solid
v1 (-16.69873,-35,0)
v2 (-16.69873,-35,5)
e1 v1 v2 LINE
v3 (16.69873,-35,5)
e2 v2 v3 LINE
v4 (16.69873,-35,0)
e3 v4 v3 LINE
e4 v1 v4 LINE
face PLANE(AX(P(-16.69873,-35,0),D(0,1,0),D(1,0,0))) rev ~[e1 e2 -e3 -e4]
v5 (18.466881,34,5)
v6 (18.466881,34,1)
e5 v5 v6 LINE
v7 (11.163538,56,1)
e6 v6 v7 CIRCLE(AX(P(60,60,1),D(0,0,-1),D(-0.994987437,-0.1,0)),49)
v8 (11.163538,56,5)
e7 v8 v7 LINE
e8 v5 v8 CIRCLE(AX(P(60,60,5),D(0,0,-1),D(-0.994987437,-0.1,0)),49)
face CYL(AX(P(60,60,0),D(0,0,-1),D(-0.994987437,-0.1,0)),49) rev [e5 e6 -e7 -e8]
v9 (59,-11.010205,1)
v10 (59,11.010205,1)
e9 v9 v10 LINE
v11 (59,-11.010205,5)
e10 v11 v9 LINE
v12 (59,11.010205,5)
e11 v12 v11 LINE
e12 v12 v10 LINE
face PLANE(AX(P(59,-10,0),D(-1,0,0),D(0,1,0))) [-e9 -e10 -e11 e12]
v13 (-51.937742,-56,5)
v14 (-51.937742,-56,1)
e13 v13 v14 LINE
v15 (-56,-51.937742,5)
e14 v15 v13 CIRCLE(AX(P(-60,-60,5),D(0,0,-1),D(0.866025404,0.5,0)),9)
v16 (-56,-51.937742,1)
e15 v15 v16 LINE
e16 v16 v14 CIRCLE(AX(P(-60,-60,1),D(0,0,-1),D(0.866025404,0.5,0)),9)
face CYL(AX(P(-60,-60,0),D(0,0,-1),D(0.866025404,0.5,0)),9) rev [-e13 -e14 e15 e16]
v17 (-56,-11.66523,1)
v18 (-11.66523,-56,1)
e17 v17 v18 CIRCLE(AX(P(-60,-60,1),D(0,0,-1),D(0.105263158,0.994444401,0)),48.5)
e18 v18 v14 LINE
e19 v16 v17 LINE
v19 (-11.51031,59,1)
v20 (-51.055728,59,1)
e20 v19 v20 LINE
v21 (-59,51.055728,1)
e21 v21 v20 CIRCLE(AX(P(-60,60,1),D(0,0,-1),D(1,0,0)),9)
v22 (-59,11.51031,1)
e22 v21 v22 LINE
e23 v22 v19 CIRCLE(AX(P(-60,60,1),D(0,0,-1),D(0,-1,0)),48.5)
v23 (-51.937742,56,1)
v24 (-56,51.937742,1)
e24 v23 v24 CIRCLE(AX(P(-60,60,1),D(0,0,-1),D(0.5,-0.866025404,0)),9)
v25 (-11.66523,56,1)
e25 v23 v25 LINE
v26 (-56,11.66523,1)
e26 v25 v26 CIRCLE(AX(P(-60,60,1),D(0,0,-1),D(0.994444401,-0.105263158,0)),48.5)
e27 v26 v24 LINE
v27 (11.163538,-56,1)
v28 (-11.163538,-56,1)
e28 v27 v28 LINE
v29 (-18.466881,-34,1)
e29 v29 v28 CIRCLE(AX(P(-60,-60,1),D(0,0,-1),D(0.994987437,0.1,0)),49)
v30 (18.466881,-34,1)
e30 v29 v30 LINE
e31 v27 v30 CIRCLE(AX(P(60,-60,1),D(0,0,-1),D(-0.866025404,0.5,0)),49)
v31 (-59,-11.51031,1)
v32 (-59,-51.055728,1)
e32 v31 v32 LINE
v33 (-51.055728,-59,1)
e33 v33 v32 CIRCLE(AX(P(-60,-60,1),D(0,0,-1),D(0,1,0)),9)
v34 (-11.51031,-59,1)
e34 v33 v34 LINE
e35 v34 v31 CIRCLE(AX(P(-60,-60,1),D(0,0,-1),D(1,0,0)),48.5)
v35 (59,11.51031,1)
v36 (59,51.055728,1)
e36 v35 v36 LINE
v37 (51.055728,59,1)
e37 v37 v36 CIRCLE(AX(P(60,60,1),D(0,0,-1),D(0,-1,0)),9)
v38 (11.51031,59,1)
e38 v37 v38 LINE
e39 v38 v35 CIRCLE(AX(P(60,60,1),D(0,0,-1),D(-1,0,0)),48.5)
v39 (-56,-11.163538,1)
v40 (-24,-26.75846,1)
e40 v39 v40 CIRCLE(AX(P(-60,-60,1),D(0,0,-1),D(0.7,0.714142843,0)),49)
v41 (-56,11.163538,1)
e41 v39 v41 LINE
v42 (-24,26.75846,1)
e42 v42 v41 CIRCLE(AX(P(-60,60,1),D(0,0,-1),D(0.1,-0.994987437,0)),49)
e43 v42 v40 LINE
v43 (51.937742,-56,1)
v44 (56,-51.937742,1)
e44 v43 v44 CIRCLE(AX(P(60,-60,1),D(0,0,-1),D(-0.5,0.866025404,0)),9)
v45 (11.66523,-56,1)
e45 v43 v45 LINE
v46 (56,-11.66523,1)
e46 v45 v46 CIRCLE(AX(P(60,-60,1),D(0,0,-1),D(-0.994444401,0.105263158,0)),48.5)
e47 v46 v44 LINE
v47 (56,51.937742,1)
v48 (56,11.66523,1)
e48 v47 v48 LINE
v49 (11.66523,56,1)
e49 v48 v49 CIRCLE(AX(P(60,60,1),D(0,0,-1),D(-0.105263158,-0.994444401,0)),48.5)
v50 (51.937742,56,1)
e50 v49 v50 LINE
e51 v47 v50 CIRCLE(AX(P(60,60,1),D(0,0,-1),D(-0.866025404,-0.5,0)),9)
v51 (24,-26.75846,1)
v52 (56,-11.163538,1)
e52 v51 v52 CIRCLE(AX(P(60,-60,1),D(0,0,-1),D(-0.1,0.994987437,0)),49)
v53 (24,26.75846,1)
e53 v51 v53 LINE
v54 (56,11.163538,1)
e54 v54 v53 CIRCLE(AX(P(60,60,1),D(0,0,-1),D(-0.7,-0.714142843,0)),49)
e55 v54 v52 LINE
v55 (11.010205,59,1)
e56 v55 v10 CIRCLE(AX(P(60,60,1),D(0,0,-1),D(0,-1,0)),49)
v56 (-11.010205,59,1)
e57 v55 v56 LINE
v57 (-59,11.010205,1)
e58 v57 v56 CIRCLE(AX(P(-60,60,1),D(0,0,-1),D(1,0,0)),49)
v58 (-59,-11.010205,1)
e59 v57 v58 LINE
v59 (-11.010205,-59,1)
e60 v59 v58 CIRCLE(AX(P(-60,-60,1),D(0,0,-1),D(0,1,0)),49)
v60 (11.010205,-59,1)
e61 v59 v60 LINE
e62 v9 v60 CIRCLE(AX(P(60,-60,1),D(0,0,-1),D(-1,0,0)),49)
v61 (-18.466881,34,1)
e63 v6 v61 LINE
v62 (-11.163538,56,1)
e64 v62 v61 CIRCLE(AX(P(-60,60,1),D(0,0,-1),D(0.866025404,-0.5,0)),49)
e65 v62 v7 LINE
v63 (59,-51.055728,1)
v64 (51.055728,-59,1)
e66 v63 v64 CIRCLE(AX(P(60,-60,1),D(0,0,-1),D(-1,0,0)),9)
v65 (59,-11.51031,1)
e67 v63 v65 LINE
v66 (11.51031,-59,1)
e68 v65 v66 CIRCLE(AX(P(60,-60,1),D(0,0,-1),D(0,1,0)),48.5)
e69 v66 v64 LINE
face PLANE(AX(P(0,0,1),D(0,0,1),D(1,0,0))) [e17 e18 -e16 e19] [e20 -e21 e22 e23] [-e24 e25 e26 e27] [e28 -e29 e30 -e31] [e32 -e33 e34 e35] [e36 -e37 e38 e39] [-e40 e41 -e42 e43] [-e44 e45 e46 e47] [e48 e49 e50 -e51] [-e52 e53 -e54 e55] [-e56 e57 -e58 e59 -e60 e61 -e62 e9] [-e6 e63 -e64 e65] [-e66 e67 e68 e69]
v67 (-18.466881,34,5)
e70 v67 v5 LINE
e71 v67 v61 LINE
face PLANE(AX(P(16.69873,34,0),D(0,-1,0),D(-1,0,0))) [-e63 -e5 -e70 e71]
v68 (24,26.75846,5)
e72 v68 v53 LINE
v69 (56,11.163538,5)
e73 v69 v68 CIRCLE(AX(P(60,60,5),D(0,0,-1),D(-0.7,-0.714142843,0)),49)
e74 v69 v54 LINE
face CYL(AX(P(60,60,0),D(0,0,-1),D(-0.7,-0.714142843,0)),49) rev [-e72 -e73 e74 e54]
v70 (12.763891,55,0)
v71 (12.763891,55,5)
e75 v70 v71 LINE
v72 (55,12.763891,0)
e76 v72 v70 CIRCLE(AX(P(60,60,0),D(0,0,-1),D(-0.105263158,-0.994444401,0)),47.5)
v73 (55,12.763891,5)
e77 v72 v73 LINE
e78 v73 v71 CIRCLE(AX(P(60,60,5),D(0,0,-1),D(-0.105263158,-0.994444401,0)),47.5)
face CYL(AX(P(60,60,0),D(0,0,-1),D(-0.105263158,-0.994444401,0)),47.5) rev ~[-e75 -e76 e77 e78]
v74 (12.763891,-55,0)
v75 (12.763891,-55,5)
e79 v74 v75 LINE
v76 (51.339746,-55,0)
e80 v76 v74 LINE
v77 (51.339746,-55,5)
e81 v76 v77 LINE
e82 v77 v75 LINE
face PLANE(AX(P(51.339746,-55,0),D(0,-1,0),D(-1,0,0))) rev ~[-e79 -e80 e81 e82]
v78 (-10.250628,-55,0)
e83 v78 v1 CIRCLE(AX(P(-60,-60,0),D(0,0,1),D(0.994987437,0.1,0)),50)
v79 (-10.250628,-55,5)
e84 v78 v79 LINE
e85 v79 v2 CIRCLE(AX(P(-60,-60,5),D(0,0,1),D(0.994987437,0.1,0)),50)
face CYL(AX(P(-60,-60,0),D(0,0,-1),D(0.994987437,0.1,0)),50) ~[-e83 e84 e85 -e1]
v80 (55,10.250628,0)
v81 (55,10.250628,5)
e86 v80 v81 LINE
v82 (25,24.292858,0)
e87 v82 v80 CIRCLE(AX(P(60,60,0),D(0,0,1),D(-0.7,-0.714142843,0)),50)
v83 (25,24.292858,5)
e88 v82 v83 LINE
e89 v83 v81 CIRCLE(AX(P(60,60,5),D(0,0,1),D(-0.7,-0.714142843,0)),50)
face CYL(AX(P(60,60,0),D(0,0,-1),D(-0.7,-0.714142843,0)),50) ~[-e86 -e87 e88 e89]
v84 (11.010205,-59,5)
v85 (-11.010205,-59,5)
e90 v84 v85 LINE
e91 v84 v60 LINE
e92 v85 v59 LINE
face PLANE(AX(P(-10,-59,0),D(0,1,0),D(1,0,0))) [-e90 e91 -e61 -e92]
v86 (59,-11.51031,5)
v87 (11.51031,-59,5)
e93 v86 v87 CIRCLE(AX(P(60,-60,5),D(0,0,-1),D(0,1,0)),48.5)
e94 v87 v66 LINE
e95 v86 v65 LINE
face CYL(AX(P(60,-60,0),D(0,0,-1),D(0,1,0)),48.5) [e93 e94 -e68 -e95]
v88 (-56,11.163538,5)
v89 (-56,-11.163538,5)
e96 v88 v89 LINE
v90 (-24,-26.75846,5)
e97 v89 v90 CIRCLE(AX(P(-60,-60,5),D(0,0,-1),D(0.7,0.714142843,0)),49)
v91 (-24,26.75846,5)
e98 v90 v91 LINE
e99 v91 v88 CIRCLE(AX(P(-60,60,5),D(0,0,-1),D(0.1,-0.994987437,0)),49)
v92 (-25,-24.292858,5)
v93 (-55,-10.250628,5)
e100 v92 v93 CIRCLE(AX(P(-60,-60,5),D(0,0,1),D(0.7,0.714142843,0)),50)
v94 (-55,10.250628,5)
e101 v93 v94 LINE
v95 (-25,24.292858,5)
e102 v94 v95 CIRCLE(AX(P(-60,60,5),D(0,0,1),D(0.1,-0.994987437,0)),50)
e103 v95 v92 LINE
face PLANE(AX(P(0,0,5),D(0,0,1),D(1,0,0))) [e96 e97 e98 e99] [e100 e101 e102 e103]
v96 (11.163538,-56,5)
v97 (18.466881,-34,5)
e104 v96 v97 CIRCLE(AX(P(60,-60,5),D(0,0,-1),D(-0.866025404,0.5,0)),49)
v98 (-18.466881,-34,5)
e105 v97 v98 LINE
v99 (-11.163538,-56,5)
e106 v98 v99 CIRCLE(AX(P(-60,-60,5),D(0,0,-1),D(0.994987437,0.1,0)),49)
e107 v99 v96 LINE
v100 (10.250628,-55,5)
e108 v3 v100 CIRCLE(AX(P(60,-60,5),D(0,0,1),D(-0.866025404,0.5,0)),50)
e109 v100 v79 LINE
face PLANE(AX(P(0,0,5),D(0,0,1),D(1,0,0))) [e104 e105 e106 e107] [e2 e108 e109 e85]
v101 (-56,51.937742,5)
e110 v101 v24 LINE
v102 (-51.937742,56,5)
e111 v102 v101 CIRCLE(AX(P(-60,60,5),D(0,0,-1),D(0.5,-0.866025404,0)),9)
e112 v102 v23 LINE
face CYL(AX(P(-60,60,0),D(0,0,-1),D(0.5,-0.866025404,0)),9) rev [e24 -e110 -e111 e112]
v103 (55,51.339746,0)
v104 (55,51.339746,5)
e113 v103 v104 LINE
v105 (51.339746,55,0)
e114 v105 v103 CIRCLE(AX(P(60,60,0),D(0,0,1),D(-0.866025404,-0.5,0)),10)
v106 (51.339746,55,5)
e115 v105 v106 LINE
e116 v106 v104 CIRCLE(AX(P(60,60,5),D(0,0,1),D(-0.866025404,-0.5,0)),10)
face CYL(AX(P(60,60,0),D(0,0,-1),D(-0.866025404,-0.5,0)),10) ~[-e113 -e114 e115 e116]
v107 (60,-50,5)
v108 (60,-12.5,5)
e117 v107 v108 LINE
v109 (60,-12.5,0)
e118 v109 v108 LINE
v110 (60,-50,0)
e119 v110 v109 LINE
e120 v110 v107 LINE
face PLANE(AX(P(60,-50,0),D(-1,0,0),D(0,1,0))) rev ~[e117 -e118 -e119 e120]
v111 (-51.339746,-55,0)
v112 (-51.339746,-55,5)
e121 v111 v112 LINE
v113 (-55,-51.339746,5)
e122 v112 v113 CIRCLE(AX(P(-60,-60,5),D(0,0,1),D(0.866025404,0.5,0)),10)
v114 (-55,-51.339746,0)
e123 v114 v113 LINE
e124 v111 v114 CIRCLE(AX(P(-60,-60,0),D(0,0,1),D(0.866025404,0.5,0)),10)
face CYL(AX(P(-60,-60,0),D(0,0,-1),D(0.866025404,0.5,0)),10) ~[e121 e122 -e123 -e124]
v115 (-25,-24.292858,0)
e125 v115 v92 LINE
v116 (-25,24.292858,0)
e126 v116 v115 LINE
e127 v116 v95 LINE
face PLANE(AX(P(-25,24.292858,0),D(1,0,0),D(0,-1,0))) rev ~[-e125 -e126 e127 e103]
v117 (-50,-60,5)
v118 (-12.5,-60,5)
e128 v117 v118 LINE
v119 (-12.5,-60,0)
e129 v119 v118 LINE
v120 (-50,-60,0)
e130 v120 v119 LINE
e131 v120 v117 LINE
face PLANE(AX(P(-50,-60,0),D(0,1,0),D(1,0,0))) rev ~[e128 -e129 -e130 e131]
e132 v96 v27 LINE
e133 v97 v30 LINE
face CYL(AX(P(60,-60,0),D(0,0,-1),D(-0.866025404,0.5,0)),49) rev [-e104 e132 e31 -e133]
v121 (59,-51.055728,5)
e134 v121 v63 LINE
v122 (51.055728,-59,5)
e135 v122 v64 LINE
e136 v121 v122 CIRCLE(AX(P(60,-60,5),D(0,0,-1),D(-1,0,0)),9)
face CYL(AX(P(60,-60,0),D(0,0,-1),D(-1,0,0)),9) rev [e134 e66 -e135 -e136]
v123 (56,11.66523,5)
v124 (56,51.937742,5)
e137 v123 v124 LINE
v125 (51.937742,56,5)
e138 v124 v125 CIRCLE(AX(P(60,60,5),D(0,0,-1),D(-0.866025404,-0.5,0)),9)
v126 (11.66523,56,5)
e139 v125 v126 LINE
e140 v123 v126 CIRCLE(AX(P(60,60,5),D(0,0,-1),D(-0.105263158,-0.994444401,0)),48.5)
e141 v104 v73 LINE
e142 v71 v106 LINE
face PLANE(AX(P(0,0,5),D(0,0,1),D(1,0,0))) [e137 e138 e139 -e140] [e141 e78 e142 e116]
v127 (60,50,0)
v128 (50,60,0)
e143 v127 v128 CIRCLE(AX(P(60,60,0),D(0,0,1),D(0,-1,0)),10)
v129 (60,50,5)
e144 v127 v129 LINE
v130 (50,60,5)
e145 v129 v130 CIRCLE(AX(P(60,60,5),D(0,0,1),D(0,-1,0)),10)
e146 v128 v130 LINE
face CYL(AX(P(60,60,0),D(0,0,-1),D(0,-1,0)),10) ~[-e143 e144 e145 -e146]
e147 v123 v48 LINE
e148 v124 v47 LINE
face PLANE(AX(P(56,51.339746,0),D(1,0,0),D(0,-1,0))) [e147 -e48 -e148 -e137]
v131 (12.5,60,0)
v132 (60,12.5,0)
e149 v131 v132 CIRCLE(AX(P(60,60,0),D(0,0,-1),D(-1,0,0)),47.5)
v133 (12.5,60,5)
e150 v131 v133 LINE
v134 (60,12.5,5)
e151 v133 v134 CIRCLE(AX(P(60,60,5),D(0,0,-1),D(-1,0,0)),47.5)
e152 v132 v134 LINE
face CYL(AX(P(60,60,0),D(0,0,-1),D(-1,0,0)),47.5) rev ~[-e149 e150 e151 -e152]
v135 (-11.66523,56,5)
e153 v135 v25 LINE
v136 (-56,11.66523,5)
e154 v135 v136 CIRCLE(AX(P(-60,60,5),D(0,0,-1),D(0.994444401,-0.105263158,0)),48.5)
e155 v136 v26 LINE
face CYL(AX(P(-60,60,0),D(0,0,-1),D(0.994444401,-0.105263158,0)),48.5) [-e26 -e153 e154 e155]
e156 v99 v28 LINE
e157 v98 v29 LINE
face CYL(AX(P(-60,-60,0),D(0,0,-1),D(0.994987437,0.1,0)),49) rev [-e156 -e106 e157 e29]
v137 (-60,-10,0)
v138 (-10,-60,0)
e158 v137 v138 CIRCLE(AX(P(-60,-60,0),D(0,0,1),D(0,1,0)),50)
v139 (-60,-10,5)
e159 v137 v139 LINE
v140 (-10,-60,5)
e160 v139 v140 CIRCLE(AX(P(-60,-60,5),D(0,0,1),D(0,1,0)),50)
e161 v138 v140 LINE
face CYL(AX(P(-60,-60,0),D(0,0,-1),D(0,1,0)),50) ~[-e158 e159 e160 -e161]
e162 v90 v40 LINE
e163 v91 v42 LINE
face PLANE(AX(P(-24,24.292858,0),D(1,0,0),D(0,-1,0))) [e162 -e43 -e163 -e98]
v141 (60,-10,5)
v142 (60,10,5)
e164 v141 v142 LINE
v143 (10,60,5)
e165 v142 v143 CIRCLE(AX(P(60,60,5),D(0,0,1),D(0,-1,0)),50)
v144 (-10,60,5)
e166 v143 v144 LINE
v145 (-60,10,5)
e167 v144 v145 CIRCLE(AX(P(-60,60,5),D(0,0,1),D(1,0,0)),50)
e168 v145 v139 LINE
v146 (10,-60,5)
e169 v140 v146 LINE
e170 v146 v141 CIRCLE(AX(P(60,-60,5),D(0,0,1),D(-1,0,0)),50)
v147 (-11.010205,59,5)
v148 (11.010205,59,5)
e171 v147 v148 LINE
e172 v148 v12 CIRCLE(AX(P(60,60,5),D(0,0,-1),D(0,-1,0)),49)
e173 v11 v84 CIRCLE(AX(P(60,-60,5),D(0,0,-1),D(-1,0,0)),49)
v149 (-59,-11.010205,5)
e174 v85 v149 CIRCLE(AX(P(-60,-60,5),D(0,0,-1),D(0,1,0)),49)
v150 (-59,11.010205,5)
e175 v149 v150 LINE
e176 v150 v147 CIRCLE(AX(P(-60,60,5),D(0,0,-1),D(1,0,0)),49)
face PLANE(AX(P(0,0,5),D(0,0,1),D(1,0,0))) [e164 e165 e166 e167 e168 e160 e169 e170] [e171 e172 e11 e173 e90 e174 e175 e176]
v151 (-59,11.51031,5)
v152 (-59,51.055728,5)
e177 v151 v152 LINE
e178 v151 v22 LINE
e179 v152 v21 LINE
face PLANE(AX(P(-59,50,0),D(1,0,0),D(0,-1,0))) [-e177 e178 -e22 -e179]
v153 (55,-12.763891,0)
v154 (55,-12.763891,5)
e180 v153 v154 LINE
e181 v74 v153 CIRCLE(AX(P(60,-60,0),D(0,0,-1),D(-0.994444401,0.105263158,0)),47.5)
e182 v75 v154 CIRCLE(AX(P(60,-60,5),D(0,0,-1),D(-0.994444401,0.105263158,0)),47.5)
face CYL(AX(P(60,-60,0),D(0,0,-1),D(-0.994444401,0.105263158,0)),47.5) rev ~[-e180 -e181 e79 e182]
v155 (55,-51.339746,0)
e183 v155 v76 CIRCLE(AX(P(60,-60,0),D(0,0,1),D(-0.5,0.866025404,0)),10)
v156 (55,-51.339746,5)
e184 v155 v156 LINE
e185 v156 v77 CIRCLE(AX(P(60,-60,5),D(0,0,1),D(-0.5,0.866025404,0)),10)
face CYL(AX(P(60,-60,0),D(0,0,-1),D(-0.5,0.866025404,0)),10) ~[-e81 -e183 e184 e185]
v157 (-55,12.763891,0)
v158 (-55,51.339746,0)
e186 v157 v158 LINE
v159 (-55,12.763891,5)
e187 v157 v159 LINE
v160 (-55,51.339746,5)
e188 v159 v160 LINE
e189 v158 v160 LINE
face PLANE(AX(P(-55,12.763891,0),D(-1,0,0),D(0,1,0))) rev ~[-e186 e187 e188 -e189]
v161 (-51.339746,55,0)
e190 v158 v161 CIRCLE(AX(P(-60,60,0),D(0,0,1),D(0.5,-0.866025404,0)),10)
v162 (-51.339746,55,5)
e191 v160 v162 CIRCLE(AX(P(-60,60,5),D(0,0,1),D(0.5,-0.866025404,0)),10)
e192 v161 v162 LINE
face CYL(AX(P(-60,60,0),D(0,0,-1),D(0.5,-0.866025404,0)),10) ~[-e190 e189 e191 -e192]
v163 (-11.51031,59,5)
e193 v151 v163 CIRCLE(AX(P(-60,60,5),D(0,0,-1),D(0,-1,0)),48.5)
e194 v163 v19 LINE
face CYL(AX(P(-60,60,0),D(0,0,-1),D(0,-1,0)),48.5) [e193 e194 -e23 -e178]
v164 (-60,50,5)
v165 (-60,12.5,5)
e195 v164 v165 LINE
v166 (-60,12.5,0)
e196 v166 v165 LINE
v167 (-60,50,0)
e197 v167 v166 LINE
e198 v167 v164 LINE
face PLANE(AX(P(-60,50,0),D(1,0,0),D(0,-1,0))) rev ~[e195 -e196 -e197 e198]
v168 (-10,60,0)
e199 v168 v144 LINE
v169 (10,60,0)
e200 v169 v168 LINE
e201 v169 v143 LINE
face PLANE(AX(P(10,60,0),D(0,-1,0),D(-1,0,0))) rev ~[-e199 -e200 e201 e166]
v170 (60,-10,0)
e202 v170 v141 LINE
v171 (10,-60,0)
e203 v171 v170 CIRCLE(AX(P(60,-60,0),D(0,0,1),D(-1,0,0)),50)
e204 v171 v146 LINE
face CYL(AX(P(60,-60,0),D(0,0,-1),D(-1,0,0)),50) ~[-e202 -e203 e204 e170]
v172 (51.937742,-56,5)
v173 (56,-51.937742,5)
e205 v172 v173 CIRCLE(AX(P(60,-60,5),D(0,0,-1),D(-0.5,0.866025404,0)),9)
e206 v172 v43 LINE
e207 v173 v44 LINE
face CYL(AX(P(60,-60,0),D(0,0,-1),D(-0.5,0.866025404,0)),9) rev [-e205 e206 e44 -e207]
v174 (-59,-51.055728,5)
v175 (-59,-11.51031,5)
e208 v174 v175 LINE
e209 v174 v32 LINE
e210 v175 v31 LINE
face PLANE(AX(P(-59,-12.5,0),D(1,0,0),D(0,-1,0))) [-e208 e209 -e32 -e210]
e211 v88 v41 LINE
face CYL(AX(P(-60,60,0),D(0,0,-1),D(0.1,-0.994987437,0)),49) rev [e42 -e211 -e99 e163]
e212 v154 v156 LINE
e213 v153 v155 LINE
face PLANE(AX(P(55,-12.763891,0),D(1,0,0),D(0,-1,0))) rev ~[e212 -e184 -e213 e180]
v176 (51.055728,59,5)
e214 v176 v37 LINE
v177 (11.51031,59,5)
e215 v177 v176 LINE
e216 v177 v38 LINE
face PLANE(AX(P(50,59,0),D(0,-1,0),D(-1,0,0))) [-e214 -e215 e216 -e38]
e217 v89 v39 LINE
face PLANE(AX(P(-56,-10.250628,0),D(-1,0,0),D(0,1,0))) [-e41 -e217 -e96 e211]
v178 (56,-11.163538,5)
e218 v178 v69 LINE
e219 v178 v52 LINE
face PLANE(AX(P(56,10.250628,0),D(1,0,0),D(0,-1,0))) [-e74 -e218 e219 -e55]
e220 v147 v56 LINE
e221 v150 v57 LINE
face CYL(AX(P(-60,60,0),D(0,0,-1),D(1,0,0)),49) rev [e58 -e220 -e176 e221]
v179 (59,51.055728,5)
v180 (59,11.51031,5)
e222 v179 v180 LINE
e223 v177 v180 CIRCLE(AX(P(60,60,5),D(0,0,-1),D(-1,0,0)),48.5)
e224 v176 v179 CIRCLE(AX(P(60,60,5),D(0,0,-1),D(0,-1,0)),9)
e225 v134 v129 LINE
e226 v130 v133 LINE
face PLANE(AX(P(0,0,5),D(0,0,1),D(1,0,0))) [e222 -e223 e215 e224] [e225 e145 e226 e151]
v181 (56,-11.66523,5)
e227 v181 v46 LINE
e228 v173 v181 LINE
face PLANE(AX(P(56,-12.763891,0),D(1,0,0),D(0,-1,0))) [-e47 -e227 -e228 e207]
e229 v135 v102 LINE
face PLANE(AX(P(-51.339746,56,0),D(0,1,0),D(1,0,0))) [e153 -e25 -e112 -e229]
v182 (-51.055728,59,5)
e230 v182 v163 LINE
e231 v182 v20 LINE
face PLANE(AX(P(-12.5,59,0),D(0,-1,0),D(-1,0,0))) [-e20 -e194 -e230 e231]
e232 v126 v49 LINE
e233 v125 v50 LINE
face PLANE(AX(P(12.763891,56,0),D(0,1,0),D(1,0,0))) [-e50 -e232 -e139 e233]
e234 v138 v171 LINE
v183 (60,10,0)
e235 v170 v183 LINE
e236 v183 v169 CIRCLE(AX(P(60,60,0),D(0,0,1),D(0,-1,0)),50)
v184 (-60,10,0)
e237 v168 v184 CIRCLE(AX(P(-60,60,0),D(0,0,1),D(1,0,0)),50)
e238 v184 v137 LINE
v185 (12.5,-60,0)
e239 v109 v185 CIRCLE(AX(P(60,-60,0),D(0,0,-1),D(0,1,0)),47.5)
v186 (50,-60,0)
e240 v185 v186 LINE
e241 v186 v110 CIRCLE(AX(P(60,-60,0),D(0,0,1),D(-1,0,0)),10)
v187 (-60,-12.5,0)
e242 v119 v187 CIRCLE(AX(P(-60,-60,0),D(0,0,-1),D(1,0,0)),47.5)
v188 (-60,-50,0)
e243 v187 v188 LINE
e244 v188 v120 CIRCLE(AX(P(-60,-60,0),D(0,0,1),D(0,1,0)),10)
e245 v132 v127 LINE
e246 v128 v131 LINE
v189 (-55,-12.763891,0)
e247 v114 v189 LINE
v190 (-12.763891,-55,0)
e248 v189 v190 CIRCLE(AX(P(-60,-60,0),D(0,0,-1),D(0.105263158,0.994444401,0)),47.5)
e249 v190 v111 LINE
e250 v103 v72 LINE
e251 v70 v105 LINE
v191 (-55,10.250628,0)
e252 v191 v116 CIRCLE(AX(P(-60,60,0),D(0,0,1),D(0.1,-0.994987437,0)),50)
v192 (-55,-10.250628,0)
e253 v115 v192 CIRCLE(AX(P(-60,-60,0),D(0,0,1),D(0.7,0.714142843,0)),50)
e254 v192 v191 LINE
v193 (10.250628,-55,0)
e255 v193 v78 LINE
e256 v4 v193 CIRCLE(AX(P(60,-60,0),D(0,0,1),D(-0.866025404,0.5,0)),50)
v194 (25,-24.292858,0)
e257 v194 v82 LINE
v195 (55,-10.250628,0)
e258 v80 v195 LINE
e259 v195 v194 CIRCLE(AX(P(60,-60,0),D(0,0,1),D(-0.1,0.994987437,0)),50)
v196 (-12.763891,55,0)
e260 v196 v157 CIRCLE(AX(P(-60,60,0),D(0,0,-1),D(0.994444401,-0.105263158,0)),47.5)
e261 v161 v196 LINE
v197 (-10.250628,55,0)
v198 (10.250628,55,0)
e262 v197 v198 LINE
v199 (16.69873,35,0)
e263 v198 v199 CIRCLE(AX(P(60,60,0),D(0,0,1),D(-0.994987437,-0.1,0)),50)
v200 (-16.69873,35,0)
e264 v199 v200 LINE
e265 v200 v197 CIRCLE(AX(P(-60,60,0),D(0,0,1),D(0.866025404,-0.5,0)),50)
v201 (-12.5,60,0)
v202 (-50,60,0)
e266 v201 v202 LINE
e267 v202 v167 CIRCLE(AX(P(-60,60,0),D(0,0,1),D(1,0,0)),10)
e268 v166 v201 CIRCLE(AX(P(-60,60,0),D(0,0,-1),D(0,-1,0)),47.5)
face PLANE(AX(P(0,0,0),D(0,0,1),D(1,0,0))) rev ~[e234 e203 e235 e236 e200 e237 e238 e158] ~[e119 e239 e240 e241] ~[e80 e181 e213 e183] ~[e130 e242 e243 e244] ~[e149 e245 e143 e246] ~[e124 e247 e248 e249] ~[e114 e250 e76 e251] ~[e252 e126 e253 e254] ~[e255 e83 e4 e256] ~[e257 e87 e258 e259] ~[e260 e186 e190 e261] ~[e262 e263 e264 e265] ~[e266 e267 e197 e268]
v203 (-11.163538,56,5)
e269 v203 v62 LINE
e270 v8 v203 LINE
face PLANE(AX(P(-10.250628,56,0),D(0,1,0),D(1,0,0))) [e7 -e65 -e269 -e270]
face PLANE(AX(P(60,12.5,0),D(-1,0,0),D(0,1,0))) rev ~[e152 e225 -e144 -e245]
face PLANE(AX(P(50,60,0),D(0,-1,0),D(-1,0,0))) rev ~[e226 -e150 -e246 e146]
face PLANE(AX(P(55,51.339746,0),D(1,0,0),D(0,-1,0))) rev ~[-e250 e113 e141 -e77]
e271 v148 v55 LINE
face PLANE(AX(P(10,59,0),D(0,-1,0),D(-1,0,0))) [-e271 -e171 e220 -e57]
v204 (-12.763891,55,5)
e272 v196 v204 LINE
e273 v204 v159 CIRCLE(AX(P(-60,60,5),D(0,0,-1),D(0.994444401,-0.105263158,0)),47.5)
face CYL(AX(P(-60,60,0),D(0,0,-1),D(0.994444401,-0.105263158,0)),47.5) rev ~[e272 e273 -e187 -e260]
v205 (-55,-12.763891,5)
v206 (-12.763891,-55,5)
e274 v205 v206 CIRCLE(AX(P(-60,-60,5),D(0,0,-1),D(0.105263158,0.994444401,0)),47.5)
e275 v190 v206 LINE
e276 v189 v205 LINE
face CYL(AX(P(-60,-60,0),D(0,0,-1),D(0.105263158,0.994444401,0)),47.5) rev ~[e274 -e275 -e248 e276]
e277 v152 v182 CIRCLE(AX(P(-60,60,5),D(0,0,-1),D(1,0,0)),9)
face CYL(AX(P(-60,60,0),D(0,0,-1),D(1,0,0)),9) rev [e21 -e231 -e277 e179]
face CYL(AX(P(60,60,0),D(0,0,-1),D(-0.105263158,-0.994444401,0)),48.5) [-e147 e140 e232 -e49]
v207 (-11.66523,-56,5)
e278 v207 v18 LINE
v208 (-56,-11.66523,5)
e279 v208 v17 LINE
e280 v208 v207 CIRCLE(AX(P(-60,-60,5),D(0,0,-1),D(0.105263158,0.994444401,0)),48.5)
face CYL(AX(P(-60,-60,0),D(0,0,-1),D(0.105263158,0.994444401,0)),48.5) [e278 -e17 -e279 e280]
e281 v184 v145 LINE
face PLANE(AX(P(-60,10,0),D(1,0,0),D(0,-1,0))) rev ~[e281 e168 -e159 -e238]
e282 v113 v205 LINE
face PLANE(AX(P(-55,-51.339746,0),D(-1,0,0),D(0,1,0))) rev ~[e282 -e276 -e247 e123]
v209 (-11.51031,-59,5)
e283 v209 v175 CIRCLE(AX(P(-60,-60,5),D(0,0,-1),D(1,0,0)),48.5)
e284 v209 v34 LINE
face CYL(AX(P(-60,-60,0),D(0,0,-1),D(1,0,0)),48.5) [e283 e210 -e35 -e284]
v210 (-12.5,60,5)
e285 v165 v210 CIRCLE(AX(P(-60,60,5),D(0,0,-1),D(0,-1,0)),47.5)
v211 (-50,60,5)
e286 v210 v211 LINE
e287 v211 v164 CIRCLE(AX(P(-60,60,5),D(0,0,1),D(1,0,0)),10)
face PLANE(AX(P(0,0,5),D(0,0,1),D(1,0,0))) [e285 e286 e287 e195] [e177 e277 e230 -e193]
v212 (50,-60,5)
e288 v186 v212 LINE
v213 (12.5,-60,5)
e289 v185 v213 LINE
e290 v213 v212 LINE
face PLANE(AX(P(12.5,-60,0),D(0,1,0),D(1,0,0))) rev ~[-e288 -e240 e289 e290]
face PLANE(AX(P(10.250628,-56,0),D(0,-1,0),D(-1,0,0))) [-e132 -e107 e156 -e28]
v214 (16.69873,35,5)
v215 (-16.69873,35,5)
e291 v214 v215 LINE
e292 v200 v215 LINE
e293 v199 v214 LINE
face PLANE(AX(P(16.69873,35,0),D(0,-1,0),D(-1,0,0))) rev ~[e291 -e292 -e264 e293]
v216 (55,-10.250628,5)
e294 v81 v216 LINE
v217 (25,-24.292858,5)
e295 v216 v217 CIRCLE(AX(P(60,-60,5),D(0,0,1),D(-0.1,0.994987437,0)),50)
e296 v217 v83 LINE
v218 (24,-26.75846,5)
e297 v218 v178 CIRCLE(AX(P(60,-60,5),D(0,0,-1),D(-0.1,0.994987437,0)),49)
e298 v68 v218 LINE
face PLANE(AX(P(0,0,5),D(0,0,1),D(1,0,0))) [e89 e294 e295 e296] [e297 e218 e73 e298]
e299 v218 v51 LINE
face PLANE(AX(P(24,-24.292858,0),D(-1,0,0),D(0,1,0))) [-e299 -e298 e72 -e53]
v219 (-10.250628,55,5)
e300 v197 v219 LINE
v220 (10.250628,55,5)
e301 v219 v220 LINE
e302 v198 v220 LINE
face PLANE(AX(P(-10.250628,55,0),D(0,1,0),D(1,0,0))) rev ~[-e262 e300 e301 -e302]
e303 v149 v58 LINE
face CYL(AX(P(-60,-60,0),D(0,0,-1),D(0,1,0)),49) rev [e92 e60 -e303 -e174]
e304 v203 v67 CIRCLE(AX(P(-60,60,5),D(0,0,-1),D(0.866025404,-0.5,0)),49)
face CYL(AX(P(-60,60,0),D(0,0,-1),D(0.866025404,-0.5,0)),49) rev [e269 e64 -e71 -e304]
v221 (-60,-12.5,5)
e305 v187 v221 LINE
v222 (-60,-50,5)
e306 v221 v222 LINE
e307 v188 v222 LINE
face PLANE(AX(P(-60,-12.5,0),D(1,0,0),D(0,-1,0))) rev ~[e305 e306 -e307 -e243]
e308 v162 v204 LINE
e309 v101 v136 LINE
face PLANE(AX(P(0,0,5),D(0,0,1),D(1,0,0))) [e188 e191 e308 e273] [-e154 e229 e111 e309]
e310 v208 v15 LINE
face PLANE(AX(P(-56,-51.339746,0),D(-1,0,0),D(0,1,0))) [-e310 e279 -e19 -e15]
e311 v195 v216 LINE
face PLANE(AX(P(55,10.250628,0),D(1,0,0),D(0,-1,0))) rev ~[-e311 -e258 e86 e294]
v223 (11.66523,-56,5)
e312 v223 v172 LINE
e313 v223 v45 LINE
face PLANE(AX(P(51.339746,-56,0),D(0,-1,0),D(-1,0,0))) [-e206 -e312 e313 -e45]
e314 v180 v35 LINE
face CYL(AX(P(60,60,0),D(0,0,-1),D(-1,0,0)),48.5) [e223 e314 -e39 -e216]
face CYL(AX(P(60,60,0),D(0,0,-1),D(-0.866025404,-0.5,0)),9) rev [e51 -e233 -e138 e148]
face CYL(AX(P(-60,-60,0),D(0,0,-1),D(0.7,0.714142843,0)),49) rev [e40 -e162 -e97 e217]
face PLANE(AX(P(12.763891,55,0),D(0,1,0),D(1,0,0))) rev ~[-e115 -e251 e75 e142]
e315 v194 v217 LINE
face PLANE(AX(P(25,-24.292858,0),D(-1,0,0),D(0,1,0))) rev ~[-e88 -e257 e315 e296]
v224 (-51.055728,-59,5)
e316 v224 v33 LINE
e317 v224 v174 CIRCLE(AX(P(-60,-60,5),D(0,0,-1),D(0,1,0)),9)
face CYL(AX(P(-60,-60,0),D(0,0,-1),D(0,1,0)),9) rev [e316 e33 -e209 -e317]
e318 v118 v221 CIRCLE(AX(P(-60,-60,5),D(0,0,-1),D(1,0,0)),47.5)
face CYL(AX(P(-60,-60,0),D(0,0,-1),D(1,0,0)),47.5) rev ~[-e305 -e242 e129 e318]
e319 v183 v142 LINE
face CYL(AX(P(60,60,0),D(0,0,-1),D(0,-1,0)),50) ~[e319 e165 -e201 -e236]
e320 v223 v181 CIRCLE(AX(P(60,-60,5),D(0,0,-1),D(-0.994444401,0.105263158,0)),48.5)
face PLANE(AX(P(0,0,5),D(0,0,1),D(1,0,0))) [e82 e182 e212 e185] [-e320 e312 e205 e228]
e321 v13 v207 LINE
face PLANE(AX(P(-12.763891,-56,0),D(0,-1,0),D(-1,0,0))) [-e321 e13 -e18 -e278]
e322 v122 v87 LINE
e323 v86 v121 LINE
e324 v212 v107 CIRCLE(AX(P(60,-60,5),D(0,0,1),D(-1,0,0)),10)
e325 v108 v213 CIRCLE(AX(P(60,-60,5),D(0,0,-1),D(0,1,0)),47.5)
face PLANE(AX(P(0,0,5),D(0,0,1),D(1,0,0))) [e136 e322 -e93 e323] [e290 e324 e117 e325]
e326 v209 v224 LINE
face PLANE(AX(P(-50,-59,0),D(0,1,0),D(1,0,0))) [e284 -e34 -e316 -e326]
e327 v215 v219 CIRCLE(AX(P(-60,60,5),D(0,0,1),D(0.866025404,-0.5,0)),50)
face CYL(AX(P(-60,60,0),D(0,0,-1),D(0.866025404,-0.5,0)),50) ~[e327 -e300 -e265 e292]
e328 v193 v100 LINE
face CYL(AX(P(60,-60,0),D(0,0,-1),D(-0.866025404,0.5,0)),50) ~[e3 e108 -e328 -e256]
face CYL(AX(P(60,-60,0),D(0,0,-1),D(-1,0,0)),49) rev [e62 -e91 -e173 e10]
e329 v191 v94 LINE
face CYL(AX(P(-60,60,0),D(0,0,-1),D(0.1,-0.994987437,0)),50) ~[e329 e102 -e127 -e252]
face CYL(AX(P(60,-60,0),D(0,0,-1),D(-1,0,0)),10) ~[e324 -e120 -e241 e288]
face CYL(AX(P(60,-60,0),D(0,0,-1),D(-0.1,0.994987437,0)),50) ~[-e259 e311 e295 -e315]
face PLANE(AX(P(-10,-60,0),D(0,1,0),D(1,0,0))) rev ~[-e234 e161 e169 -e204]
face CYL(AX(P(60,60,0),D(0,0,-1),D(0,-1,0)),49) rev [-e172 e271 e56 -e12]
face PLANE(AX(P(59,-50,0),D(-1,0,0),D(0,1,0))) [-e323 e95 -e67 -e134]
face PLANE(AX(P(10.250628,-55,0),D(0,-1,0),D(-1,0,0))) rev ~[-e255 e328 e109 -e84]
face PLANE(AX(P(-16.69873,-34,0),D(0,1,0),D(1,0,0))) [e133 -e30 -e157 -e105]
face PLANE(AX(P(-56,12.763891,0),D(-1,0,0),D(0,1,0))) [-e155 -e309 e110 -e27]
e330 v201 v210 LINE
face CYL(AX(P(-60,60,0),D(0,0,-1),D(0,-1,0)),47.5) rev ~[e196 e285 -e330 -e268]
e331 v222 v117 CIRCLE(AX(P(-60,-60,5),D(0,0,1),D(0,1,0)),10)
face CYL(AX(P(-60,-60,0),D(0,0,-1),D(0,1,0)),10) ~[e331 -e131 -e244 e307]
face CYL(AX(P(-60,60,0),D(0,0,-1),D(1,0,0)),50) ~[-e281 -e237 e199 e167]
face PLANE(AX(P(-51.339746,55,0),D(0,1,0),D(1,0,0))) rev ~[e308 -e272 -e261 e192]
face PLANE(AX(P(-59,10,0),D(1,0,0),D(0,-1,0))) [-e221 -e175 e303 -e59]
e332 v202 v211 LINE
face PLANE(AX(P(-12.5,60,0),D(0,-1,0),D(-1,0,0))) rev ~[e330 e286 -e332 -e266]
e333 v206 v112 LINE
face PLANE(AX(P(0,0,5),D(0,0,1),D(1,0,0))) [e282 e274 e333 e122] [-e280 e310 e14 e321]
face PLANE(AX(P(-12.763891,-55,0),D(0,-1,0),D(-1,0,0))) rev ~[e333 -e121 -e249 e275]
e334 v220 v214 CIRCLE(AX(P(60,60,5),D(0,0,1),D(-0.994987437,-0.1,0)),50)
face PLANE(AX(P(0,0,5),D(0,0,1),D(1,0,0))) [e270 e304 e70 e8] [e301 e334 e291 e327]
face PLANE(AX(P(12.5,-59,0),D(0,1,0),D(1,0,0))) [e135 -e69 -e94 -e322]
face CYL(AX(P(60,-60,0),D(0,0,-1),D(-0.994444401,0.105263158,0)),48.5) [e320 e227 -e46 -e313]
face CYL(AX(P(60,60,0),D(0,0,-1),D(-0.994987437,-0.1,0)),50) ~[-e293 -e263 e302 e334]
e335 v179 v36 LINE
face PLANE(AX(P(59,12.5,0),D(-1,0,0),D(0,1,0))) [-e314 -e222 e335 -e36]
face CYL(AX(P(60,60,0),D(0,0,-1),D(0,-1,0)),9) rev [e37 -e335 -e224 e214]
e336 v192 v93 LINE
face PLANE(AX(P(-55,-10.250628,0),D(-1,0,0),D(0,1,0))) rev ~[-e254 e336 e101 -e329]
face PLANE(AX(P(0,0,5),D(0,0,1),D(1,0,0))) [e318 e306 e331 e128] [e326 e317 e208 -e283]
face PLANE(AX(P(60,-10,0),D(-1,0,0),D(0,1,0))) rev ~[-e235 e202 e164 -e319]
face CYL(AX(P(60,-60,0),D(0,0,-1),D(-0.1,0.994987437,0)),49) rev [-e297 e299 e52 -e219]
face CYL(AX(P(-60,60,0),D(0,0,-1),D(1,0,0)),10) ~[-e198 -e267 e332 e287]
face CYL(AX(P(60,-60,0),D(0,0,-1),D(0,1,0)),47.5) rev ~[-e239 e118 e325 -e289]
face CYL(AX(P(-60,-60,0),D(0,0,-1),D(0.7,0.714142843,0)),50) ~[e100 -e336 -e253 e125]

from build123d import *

# Parameters (mm, degrees)
F1_DEPTH = 5
F2_T     = -1


with BuildPart() as f1:
    # F0 (on Top) → F1 (new body)
    with BuildSketch(Plane.XY):
        with BuildLine():
            ThreePointArc((-10, 60), (-95.3553390593, 95.3553390593), (-60, 10))
            Line((-60, 10), (-60, -10))
            ThreePointArc((-60, -10), (-95.3553390593, -95.3553390593), (-10, -60))
            Line((-10, -60), (10, -60))
            ThreePointArc((10, -60), (95.3553390593, -95.3553390593), (60, -10))
            Line((60, -10), (60, 10))
            ThreePointArc((60, 10), (95.3553390593, 95.3553390593), (10, 60))
            Line((10, 60), (-10, 60))
        make_face()
        with BuildLine():
            Line((-50, -60), (-12.5, -60))
            ThreePointArc((-12.5, -60), (-93.5875721064, -93.5875721064), (-60, -12.5))
            Line((-60, -12.5), (-60, -50))
            ThreePointArc((-60, -50), (-67.0710678119, -67.0710678119), (-50, -60))
        make_face(mode=Mode.SUBTRACT)
        with BuildLine():
            ThreePointArc((-55, -12.7638909308), (-26.4124278936, -26.4124278936), (-12.7638909308, -55))
            Line((-12.7638909308, -55), (-51.3397459622, -55))
            ThreePointArc((-51.3397459622, -55), (-52.9289321881, -52.9289321881), (-55, -51.3397459622))
            Line((-55, -51.3397459622), (-55, -12.7638909308))
        make_face(mode=Mode.SUBTRACT)
        with BuildLine():
            Line((12.5, -60), (50, -60))
            ThreePointArc((50, -60), (67.0710678119, -67.0710678119), (60, -50))
            Line((60, -50), (60, -12.5))
            ThreePointArc((60, -12.5), (93.5875721064, -93.5875721064), (12.5, -60))
        make_face(mode=Mode.SUBTRACT)
        with BuildLine():
            Line((-16.6987298108, -35), (16.6987298108, -35))
            ThreePointArc((16.6987298108, -35), (12.4121286857, -44.6574283846), (10.2506281447, -55))
            Line((10.2506281447, -55), (-10.2506281447, -55))
            ThreePointArc((-10.2506281447, -55), (-12.4121286857, -44.6574283846), (-16.6987298108, -35))
        make_face(mode=Mode.SUBTRACT)
        with BuildLine():
            ThreePointArc((12.7638909308, -55), (26.4124278936, -26.4124278936), (55, -12.7638909308))
            Line((55, -12.7638909308), (55, -51.3397459622))
            ThreePointArc((55, -51.3397459622), (52.9289321881, -52.9289321881), (51.3397459622, -55))
            Line((51.3397459622, -55), (12.7638909308, -55))
        make_face(mode=Mode.SUBTRACT)
        with BuildLine():
            Line((55, 10.2506281447), (55, -10.2506281447))
            ThreePointArc((55, -10.2506281447), (38.8033952288, -14.7153011915), (25, -24.2928578573))
            Line((25, -24.2928578573), (25, 24.2928578573))
            ThreePointArc((25, 24.2928578573), (38.8033952288, 14.7153011915), (55, 10.2506281447))
        make_face(mode=Mode.SUBTRACT)
        with BuildLine():
            Line((-25, 24.2928578573), (-25, -24.2928578573))
            ThreePointArc((-25, -24.2928578573), (-38.8033952288, -14.7153011915), (-55, -10.2506281447))
            Line((-55, -10.2506281447), (-55, 10.2506281447))
            ThreePointArc((-55, 10.2506281447), (-38.8033952288, 14.7153011915), (-25, 24.2928578573))
        make_face(mode=Mode.SUBTRACT)
        with BuildLine():
            ThreePointArc((-12.7638909308, 55), (-26.4124278936, 26.4124278936), (-55, 12.7638909308))
            Line((-55, 12.7638909308), (-55, 51.3397459622))
            ThreePointArc((-55, 51.3397459622), (-52.9289321881, 52.9289321881), (-51.3397459622, 55))
            Line((-51.3397459622, 55), (-12.7638909308, 55))
        make_face(mode=Mode.SUBTRACT)
        with BuildLine():
            Line((16.6987298108, 35), (-16.6987298108, 35))
            ThreePointArc((-16.6987298108, 35), (-12.4121286857, 44.6574283846), (-10.2506281447, 55))
            Line((-10.2506281447, 55), (10.2506281447, 55))
            ThreePointArc((10.2506281447, 55), (12.4121286857, 44.6574283846), (16.6987298108, 35))
        make_face(mode=Mode.SUBTRACT)
        with BuildLine():
            ThreePointArc((-50, 60), (-67.0710678119, 67.0710678119), (-60, 50))
            Line((-60, 50), (-60, 12.5))
            ThreePointArc((-60, 12.5), (-93.5875721064, 93.5875721064), (-12.5, 60))
            Line((-12.5, 60), (-50, 60))
        make_face(mode=Mode.SUBTRACT)
        with BuildLine():
            ThreePointArc((55, 12.7638909308), (26.4124278936, 26.4124278936), (12.7638909308, 55))
            Line((12.7638909308, 55), (51.3397459622, 55))
            ThreePointArc((51.3397459622, 55), (52.9289321881, 52.9289321881), (55, 51.3397459622))
            Line((55, 51.3397459622), (55, 12.7638909308))
        make_face(mode=Mode.SUBTRACT)
        with BuildLine():
            ThreePointArc((60, 50), (67.0710678119, 67.0710678119), (50, 60))
            Line((50, 60), (12.5, 60))
            ThreePointArc((12.5, 60), (93.5875721064, 93.5875721064), (60, 12.5))
            Line((60, 12.5), (60, 50))
        make_face(mode=Mode.SUBTRACT)
    extrude(amount=F1_DEPTH)

    # F2
    f2_openings = [f1.faces().sort_by_distance(p)[0] for p in [
        (0, 0, 5),
    ]]
    offset(amount=F2_T, openings=f2_openings, kind=Kind.INTERSECTION)


solid = f1.part
